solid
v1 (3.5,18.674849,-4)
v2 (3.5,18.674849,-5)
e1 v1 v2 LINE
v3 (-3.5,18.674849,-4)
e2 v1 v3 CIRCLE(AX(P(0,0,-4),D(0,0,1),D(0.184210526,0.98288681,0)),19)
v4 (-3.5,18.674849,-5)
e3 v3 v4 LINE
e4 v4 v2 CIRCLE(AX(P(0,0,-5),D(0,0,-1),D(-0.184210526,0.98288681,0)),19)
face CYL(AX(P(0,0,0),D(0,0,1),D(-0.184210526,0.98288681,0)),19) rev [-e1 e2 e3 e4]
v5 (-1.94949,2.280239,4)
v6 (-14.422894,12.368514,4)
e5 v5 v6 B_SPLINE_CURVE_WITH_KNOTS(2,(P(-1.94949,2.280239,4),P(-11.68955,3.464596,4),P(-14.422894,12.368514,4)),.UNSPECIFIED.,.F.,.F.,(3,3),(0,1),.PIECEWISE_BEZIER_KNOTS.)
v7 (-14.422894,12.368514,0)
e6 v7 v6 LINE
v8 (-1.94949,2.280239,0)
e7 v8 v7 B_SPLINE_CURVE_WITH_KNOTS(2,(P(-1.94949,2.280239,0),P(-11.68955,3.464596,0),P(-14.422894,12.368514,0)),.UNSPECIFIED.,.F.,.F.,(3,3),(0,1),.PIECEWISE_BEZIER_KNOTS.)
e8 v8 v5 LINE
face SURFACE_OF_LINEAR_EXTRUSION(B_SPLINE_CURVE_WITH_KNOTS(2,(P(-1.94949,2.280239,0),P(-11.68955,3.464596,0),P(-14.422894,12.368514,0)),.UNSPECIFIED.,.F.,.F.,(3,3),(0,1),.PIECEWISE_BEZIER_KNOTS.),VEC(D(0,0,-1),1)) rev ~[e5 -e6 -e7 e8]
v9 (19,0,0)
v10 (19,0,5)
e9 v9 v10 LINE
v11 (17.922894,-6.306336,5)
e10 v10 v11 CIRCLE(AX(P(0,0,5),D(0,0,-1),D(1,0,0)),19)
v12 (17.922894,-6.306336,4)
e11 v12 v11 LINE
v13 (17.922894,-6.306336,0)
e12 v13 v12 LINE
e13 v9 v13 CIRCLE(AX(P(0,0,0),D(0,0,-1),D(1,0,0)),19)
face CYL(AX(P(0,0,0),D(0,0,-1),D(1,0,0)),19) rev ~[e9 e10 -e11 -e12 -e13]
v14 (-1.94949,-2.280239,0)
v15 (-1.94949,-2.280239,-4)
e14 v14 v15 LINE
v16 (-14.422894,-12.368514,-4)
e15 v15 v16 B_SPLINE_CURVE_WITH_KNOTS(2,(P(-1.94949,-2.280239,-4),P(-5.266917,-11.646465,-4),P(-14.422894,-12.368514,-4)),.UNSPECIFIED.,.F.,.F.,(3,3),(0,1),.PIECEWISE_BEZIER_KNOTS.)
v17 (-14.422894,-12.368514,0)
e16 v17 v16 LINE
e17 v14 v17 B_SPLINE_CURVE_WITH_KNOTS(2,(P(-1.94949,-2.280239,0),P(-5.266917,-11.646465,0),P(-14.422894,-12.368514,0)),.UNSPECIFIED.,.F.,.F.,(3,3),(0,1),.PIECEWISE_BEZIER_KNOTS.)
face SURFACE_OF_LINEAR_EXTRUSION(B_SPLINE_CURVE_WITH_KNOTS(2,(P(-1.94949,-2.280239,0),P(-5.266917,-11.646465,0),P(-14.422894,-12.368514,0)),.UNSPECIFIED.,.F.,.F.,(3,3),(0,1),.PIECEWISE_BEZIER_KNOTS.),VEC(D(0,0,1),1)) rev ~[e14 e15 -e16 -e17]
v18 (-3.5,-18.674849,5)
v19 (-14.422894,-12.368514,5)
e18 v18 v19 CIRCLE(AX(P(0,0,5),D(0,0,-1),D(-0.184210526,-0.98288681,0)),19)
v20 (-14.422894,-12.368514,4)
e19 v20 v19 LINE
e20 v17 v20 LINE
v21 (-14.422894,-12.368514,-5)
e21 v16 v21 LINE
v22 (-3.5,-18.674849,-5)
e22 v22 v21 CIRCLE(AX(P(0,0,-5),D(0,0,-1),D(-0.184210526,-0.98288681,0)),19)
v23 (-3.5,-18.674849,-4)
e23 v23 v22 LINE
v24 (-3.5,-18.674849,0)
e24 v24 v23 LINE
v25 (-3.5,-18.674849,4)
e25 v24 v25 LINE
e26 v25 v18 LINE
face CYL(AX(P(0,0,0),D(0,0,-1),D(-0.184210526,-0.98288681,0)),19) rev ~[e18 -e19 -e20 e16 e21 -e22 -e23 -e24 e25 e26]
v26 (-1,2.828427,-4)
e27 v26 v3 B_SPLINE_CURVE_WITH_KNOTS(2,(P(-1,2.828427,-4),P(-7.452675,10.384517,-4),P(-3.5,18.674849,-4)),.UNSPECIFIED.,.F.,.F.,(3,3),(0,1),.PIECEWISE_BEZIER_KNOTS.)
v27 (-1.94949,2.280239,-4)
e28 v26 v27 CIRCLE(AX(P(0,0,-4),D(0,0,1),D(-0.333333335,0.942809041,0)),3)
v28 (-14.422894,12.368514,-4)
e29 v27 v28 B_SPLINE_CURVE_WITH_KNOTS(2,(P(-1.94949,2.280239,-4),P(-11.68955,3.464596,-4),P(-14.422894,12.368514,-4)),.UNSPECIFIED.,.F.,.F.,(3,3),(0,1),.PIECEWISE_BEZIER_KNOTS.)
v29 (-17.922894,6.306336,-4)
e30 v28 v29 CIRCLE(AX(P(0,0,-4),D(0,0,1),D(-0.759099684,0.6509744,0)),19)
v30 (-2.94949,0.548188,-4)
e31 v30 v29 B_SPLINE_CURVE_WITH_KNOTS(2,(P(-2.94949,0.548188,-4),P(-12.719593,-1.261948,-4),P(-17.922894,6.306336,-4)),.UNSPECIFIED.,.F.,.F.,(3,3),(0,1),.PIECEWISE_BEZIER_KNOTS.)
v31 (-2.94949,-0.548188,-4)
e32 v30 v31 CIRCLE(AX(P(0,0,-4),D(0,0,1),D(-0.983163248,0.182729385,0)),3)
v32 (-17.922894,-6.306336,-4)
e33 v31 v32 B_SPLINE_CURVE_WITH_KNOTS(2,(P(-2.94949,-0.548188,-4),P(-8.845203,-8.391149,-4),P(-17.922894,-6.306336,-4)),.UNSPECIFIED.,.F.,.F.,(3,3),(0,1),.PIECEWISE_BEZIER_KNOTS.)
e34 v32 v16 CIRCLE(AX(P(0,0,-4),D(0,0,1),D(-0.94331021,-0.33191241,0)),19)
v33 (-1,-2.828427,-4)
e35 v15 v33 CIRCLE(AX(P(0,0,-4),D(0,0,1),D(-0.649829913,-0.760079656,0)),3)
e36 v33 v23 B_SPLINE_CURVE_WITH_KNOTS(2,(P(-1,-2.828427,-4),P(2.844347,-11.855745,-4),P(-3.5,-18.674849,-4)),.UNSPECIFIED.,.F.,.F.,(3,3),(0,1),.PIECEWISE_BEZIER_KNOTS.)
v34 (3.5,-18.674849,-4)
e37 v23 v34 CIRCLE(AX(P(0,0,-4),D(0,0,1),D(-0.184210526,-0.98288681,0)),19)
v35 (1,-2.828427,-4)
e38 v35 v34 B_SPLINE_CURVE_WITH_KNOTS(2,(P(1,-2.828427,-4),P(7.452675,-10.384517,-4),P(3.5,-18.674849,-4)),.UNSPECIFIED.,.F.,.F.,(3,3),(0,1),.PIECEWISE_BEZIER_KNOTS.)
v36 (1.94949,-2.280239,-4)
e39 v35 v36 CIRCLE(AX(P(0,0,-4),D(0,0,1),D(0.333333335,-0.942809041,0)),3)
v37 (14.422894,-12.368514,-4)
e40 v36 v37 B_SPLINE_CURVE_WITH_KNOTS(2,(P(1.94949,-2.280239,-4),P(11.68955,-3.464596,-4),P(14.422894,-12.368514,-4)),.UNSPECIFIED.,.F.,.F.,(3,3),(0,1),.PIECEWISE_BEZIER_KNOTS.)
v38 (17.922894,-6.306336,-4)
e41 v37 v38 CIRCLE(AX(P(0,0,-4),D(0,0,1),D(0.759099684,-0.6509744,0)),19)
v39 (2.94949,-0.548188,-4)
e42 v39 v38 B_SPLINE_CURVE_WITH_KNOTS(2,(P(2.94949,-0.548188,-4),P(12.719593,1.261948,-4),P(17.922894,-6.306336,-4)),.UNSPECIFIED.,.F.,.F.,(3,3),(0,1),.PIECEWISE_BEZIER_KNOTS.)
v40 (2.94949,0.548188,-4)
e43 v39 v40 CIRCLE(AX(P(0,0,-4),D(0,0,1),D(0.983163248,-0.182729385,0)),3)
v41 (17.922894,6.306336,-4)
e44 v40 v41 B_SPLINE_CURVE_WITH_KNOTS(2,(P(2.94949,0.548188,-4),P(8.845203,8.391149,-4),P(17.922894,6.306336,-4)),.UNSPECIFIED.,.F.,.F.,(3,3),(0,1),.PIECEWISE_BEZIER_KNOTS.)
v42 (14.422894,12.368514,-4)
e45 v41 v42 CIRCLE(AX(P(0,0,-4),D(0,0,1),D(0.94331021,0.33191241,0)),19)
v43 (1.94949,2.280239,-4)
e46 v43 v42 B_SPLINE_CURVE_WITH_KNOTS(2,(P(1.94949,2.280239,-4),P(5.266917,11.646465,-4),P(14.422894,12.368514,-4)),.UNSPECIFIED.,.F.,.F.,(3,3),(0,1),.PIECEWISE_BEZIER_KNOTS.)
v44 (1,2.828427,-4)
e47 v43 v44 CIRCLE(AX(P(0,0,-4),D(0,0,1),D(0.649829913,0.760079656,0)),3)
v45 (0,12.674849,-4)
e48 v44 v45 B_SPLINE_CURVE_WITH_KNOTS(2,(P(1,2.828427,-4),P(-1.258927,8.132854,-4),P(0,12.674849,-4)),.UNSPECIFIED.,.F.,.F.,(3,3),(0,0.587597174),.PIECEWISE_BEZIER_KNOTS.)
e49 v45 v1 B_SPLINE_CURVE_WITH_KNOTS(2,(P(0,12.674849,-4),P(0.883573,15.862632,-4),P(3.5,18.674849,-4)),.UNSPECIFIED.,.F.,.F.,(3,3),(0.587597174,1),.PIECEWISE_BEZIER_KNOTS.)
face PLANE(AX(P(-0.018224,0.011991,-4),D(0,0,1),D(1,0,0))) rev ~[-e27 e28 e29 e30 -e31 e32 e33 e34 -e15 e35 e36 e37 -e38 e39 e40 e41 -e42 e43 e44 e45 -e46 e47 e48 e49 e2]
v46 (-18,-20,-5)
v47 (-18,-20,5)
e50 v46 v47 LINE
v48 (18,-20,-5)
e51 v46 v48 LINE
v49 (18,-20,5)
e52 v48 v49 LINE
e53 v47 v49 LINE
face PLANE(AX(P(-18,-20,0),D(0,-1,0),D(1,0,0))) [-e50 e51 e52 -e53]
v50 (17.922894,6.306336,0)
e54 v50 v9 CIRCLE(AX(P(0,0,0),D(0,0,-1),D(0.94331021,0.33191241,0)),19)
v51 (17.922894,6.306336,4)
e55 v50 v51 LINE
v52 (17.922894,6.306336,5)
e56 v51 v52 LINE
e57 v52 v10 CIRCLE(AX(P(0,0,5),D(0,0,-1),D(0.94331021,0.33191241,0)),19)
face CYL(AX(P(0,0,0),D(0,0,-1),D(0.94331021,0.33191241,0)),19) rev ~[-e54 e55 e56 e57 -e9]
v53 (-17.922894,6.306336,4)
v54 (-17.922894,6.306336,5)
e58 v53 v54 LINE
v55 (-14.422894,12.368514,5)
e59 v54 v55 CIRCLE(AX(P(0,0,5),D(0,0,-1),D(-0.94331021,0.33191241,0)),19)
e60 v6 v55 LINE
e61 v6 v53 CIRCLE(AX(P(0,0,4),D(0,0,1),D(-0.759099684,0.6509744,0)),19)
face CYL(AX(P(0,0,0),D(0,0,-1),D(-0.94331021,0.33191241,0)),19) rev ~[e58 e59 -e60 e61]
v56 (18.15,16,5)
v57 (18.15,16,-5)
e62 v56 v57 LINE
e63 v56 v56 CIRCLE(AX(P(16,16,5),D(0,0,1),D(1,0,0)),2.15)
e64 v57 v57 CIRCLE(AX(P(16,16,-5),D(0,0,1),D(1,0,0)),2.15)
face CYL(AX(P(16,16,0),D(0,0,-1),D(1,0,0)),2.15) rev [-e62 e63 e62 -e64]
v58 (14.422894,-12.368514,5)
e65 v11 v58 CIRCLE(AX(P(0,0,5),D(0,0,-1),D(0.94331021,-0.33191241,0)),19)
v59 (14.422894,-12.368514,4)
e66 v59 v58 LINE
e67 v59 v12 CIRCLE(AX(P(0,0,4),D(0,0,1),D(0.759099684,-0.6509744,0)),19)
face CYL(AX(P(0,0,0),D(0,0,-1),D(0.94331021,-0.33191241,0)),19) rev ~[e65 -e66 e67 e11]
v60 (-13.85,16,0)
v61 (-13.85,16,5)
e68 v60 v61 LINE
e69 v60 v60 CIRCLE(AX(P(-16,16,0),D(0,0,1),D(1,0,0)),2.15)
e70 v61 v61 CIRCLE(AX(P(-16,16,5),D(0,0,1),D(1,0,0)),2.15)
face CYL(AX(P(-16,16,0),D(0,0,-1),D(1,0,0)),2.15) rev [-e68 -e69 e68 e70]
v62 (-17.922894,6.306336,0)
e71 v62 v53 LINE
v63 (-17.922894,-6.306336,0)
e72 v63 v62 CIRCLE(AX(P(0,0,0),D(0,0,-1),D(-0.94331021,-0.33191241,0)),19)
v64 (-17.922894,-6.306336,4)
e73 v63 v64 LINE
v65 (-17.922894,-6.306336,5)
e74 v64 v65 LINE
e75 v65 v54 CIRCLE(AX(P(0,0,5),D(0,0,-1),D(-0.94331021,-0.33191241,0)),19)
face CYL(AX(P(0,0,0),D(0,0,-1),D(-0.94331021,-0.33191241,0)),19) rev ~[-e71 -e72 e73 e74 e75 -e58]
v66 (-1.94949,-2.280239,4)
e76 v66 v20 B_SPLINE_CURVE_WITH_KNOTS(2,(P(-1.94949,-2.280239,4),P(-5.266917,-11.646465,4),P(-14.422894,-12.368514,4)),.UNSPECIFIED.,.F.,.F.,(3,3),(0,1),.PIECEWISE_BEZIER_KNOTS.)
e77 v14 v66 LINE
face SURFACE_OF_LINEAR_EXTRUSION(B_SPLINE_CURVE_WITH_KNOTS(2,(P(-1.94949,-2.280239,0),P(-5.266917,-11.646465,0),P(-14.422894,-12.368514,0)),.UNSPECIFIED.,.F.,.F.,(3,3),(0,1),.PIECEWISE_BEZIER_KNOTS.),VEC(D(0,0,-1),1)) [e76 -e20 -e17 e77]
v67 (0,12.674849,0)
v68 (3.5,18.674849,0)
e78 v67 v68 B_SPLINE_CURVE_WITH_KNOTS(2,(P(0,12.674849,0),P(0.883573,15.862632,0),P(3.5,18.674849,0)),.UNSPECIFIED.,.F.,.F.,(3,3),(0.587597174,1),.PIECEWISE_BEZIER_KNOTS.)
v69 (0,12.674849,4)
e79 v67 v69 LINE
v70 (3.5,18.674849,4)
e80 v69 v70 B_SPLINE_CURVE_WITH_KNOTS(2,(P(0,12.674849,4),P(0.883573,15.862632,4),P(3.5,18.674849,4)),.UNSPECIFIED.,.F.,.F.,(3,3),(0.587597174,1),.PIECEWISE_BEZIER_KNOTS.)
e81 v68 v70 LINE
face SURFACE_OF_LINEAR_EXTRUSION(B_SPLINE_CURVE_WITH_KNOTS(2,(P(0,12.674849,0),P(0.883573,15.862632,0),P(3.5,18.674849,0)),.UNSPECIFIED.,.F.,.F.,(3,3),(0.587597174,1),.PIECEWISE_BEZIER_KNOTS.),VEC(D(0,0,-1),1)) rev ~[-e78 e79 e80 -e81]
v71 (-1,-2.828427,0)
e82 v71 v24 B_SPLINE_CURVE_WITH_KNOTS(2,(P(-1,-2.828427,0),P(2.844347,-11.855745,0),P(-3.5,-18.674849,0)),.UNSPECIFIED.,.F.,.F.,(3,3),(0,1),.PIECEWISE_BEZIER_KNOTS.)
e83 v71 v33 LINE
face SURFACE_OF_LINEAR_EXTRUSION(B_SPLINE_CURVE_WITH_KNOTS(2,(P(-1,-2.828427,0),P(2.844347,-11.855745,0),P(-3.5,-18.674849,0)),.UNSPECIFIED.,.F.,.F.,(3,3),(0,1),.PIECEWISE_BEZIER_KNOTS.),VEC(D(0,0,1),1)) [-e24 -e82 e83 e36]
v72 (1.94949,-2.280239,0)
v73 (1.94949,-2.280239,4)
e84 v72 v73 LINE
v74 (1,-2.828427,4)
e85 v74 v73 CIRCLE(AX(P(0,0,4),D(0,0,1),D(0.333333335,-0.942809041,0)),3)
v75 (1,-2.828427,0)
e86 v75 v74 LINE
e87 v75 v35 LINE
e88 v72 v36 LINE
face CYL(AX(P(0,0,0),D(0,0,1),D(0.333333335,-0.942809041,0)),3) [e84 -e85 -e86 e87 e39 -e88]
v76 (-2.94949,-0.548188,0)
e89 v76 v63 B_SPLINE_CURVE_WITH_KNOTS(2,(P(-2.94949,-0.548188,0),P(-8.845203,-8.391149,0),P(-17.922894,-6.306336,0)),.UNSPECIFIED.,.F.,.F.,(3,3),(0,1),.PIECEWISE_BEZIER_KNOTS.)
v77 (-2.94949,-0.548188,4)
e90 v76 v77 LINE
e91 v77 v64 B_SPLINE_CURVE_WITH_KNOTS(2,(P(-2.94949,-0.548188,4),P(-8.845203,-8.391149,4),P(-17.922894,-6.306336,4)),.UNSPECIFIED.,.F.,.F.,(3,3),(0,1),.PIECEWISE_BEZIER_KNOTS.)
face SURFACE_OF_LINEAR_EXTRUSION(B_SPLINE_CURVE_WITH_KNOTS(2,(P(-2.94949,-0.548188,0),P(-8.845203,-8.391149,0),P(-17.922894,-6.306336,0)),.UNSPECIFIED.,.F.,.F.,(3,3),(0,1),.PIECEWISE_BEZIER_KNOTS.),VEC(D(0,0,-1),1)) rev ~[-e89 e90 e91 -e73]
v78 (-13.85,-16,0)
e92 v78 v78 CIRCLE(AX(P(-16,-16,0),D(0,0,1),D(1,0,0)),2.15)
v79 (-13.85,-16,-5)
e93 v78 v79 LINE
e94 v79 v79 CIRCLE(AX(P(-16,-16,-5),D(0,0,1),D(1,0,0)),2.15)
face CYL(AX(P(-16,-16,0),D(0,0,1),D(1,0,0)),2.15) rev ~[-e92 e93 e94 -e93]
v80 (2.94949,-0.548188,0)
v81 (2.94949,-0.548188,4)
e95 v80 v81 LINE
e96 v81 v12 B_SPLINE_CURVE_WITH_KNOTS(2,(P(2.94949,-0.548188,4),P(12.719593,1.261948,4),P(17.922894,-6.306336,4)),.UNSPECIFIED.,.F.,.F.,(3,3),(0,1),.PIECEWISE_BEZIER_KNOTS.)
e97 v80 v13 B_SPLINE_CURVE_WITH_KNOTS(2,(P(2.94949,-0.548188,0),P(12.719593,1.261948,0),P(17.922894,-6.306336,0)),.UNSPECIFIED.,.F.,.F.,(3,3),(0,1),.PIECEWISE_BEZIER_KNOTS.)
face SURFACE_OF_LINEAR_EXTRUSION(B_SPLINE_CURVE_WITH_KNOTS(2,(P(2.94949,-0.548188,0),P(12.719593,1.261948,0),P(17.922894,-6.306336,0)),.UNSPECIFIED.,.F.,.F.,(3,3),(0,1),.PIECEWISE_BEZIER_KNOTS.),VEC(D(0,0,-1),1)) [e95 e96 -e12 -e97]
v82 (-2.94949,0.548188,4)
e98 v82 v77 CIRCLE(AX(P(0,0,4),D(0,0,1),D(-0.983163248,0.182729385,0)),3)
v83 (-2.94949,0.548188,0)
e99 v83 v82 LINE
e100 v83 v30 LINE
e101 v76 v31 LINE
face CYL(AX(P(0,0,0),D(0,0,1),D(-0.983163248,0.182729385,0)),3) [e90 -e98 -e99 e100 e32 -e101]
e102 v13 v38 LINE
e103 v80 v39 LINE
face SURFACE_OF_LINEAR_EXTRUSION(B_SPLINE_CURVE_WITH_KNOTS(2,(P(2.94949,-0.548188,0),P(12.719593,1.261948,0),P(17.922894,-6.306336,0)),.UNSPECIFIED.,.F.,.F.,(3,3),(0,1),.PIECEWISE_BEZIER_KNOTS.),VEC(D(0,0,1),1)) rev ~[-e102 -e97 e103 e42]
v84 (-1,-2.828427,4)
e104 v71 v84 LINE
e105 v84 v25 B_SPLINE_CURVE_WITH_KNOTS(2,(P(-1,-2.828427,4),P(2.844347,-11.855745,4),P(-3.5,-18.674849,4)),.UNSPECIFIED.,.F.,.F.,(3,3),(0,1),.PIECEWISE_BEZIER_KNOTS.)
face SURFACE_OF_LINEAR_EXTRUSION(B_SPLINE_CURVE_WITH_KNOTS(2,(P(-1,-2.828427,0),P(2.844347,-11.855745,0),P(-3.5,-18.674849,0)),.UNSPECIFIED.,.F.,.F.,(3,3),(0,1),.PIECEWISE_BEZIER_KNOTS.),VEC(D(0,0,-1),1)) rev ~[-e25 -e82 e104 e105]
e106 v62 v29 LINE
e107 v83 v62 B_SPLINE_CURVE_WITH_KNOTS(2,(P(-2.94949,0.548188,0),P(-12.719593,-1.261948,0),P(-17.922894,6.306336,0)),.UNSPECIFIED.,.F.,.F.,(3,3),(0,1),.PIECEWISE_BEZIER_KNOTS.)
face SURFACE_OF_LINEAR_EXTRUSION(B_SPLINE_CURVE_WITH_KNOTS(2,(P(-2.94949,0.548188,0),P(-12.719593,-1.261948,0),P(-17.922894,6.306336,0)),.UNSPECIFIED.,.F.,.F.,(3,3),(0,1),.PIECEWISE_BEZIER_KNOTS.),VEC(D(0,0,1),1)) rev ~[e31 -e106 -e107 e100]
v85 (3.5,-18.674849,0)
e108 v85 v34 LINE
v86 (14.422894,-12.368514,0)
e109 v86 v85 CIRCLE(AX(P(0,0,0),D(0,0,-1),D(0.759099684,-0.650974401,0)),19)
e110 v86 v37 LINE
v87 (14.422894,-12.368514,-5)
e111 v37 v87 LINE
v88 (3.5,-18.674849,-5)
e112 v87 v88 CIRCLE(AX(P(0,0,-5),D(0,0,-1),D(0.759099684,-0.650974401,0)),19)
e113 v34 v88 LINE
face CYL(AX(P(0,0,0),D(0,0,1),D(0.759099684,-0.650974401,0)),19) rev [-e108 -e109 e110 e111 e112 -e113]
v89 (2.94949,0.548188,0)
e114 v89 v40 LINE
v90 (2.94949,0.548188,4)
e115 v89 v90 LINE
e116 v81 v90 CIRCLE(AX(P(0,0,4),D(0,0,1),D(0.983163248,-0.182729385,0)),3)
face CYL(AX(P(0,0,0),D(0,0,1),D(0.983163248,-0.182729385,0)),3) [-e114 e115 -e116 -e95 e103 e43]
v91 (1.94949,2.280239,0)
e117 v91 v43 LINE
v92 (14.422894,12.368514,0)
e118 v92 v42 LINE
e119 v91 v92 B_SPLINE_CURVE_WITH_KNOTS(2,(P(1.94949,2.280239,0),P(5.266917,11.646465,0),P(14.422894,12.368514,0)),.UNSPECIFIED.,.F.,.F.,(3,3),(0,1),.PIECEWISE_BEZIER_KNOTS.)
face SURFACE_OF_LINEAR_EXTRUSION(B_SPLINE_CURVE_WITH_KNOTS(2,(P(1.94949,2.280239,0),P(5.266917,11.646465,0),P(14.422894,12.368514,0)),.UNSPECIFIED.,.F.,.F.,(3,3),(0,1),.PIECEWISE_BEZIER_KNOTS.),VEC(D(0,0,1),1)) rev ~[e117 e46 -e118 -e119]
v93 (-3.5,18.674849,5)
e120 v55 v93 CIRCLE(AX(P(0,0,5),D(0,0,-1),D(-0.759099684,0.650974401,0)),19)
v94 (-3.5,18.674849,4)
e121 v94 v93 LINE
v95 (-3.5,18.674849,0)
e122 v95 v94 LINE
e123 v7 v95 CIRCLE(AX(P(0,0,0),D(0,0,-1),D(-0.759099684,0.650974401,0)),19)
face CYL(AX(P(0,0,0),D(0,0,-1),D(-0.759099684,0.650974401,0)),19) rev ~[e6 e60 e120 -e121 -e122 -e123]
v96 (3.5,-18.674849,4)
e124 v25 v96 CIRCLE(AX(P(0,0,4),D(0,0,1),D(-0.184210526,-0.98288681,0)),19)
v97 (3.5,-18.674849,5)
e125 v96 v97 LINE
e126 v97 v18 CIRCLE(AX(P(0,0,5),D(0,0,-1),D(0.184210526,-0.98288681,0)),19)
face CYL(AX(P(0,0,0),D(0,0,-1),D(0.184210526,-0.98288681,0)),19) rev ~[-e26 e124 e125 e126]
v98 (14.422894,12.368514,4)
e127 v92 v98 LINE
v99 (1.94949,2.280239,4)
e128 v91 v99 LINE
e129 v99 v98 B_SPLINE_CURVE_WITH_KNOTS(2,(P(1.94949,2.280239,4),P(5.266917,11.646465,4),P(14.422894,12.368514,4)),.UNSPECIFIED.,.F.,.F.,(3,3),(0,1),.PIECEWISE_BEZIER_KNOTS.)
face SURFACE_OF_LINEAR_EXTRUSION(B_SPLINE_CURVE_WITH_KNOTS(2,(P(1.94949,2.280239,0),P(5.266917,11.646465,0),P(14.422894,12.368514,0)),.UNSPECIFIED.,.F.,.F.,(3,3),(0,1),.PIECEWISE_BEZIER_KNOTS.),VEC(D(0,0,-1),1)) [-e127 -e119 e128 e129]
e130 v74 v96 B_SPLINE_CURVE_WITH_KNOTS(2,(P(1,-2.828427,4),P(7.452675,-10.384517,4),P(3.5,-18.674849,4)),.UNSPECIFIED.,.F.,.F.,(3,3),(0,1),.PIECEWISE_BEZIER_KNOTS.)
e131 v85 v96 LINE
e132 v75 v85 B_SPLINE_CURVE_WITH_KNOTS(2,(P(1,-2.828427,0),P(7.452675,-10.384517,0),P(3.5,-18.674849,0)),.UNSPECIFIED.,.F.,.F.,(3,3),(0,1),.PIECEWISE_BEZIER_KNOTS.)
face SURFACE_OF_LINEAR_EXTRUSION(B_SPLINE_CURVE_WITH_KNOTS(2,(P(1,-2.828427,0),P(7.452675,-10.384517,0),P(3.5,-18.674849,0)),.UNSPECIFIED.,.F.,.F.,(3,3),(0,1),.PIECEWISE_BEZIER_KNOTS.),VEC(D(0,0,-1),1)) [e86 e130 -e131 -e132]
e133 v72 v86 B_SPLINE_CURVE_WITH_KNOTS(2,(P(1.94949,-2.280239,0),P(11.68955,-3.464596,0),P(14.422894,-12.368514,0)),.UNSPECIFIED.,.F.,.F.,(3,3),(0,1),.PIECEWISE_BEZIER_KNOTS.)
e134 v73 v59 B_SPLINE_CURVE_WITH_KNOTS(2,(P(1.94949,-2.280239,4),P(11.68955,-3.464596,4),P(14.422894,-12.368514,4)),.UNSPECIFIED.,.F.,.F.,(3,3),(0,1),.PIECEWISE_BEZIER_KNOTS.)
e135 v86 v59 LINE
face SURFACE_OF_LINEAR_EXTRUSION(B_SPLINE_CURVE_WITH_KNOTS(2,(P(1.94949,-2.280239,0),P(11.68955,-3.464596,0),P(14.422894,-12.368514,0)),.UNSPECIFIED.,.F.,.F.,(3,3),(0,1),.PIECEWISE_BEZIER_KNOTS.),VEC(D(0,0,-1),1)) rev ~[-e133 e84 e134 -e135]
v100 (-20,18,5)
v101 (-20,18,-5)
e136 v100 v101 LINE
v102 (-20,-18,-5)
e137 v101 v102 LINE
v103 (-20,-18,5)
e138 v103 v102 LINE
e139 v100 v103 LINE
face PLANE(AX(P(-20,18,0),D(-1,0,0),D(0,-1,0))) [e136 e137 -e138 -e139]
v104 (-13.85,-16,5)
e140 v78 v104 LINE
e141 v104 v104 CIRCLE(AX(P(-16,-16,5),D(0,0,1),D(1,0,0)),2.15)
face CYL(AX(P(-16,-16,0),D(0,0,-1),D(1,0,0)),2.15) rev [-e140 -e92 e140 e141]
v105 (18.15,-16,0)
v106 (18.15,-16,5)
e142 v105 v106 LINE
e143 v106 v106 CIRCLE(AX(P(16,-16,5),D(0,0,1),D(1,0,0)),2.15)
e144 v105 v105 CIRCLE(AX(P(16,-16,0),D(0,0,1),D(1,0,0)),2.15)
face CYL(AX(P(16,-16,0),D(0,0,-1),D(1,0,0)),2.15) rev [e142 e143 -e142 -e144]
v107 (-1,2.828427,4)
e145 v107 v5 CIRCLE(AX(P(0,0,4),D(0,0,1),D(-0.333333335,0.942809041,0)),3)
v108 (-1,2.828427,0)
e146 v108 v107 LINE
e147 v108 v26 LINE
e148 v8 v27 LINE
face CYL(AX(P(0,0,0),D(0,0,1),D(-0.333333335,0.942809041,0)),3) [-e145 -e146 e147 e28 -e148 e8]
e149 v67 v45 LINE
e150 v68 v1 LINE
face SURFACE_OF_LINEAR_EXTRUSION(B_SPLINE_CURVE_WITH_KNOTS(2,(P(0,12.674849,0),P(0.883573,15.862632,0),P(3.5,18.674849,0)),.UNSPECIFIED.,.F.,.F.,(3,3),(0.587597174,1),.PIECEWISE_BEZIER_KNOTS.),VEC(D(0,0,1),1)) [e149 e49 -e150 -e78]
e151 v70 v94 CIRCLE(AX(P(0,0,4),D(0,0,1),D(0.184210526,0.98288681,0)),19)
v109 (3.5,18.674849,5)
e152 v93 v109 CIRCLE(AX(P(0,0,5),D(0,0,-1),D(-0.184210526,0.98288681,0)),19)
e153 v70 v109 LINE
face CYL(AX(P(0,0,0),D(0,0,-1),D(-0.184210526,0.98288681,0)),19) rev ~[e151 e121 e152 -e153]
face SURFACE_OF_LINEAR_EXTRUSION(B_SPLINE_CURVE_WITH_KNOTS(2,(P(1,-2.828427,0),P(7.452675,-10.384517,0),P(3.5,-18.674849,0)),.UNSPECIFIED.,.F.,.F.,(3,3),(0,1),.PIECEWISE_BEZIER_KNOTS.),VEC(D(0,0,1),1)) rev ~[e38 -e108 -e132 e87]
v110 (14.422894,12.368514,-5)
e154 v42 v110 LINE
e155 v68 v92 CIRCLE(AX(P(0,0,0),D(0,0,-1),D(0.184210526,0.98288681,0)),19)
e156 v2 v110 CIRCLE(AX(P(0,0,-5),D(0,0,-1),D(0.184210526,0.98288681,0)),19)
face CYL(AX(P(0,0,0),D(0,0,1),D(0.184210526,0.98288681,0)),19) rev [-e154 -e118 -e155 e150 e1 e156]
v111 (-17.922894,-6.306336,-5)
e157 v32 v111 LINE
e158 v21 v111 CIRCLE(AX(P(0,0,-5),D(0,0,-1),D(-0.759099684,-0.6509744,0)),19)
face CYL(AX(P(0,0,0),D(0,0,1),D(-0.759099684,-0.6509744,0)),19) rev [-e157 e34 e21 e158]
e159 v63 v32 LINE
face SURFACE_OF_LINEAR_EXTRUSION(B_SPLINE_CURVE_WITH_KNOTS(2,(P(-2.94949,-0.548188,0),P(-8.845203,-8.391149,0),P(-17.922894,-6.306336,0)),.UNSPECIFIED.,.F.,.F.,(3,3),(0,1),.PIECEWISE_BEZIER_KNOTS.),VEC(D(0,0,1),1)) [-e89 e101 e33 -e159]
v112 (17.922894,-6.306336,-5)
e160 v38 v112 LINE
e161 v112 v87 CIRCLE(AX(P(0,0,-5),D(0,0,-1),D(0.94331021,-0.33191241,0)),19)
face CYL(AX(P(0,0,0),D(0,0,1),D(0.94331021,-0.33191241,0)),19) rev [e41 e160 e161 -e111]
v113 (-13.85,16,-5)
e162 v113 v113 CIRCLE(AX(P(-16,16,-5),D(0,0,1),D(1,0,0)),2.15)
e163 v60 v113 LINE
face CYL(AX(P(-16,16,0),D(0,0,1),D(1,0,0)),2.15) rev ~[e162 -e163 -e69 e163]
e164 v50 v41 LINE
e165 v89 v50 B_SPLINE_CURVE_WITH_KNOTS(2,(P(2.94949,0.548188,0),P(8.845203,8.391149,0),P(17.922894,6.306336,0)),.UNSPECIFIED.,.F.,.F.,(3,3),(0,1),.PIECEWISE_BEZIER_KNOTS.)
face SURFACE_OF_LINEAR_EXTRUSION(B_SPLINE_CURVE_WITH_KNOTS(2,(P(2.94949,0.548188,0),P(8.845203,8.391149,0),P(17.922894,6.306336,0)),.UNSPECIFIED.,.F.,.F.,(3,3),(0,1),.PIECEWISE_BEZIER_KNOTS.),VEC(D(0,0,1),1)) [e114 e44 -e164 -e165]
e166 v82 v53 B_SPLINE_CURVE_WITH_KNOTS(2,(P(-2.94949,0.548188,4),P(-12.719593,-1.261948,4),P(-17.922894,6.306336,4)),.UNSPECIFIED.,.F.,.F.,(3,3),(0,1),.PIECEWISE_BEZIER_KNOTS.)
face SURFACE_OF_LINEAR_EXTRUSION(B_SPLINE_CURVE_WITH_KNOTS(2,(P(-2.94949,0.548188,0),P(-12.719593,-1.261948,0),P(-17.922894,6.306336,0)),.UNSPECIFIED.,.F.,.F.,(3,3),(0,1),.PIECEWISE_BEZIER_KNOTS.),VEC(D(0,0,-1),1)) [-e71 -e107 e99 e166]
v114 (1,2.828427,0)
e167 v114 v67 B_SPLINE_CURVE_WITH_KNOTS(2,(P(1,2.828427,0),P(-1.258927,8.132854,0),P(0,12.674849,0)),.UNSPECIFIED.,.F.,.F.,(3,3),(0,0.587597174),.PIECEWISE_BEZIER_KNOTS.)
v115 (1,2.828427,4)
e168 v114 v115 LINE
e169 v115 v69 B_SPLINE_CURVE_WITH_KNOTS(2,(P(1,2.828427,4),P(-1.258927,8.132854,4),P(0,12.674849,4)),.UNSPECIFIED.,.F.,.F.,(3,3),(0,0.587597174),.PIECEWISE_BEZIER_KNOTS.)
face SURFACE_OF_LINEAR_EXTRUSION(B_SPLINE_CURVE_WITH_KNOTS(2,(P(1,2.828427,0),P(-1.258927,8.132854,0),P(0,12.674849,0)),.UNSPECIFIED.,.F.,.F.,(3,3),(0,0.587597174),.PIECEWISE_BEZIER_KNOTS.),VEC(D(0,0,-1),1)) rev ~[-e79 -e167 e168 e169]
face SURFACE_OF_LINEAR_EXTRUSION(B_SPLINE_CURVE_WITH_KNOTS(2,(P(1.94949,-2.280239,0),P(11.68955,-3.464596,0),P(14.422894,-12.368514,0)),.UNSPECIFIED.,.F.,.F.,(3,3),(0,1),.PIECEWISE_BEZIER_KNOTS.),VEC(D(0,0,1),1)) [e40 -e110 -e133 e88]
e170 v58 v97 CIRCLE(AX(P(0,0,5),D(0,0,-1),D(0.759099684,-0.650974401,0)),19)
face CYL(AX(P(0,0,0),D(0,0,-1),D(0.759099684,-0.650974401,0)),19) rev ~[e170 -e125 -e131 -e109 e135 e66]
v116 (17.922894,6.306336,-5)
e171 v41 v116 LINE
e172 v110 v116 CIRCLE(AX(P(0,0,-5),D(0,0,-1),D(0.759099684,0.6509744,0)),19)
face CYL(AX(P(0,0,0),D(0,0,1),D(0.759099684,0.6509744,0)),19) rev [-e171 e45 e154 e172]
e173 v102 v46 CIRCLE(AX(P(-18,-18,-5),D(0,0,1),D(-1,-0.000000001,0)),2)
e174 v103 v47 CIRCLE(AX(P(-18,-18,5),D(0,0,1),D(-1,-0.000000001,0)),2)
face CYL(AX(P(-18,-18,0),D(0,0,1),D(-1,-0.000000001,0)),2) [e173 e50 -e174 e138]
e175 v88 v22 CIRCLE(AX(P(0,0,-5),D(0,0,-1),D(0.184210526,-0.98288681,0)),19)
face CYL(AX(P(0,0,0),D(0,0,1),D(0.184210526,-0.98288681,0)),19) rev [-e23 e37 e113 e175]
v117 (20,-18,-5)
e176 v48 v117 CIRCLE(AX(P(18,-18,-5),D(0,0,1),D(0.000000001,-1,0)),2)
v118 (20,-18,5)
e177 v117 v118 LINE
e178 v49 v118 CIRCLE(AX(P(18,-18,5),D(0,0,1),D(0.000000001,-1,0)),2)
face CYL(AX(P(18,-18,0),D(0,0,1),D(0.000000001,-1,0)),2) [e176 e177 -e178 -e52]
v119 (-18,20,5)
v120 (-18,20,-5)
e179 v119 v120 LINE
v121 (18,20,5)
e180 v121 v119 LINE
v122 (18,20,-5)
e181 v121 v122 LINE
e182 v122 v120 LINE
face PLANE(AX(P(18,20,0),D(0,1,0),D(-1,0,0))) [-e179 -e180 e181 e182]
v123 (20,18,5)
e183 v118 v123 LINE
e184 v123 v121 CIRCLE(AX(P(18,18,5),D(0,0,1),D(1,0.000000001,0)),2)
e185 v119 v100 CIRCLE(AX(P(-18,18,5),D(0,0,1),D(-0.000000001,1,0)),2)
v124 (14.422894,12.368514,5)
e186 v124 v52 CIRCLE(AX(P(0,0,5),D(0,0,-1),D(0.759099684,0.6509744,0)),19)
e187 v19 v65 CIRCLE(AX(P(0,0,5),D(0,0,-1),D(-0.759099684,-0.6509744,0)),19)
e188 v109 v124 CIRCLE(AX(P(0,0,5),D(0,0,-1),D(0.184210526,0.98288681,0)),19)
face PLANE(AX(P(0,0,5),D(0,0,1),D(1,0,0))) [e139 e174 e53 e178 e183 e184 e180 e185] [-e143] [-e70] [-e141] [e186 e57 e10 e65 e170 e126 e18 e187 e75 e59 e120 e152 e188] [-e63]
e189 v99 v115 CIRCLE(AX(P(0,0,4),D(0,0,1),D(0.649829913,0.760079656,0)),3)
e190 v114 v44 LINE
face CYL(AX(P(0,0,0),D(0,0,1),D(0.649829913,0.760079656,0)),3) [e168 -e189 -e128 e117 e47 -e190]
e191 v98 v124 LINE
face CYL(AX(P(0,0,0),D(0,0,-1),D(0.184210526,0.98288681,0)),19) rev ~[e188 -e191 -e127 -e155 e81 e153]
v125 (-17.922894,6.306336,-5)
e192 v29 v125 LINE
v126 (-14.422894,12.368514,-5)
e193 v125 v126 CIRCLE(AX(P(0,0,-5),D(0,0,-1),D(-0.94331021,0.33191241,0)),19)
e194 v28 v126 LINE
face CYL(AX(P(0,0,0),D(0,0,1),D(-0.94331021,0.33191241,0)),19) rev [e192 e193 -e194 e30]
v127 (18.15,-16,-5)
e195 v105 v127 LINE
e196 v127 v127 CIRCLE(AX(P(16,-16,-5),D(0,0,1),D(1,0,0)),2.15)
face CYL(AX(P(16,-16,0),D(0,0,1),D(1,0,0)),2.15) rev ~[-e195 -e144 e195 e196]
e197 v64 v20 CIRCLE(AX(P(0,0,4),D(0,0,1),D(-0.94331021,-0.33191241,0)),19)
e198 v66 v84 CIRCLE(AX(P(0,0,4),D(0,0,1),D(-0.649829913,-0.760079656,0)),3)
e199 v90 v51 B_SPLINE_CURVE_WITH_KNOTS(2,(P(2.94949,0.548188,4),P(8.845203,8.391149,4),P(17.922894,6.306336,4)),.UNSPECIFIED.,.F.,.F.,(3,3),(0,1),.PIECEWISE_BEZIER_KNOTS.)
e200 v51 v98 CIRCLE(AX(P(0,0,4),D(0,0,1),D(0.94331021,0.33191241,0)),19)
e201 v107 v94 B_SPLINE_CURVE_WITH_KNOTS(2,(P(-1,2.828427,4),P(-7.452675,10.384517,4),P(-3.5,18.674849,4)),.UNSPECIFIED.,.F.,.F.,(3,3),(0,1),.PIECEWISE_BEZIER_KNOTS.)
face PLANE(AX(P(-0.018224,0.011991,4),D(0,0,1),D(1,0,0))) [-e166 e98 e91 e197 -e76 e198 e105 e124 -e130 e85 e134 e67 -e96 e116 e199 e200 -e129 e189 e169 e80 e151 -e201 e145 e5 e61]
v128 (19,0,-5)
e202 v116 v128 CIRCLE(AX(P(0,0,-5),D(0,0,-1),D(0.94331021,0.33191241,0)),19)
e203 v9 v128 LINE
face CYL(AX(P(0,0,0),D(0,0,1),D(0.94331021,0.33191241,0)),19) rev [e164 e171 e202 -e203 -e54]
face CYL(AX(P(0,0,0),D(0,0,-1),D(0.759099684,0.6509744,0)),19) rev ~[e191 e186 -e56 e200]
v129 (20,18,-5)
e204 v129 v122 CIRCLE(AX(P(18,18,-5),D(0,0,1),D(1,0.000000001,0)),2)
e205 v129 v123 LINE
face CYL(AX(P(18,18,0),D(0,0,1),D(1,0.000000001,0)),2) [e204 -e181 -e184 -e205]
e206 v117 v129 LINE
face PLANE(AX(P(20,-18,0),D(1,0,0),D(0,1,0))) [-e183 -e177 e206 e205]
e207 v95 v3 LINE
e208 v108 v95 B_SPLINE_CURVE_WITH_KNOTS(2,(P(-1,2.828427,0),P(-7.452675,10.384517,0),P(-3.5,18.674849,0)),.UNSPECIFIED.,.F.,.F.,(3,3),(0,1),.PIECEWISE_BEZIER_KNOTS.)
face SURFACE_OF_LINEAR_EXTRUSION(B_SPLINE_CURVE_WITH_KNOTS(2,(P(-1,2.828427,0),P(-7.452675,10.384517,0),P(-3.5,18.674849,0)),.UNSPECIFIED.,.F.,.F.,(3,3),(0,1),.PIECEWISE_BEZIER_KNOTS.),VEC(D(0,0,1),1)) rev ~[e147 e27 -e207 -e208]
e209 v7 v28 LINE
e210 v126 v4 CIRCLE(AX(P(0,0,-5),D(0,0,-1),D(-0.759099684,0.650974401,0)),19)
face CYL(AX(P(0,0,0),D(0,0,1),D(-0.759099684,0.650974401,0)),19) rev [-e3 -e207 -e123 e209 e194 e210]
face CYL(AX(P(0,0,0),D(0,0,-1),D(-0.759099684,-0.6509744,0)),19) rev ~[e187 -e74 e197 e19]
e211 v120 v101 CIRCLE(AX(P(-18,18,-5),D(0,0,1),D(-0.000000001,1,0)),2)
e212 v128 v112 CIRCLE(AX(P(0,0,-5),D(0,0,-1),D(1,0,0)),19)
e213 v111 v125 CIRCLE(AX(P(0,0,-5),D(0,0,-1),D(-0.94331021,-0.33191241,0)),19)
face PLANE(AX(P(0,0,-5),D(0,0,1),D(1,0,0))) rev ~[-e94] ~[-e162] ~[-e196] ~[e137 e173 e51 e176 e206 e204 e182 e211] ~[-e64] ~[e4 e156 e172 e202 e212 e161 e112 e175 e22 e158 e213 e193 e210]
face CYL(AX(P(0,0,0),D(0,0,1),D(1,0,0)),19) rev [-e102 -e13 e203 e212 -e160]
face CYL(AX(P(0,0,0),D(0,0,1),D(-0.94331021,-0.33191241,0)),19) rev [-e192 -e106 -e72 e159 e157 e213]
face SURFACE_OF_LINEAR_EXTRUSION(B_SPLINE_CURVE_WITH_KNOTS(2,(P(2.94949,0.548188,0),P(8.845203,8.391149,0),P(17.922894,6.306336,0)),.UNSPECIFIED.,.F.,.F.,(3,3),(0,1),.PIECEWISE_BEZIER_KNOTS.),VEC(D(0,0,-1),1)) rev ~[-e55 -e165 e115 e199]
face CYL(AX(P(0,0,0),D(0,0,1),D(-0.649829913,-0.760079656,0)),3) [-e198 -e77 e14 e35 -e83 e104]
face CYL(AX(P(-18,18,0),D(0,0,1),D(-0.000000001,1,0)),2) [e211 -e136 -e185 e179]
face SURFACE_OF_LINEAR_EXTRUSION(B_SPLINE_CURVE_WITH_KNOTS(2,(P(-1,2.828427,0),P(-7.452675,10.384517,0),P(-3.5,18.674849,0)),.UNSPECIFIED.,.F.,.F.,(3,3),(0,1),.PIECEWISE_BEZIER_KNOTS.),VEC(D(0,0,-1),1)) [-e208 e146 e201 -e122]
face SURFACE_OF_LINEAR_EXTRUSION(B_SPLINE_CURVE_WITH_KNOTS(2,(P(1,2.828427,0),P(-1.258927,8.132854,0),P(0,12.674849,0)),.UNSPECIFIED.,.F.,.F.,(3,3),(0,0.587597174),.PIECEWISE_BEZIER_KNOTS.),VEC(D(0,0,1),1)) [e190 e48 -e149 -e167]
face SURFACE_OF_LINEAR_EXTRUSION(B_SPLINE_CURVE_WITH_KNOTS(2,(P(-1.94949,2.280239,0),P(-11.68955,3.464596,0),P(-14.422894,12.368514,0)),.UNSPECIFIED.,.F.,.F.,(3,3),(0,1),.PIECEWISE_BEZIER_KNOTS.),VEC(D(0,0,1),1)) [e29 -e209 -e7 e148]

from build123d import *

# Parameters (mm, degrees)
SKETCH1_R           = 2.15
BOSS_EXTRUDE1_DEPTH = 5
BOSS_EXTRUDE2_DEPTH = 4


with BuildPart() as part:
    # Sketch1 → Boss-Extrude1 (new, symmetric)
    with BuildSketch(Plane.XY):
        with BuildLine():
            ThreePointArc((-20, -18), (-19.414213562, -19.414213562), (-18, -20))
            Line((-18, -20), (18, -20))
            ThreePointArc((18, -20), (19.414213562, -19.414213562), (20, -18))
            Line((20, -18), (20, 18))
            ThreePointArc((20, 18), (19.414213562, 19.414213562), (18, 20))
            Line((18, 20), (-18, 20))
            ThreePointArc((-18, 20), (-19.414213562, 19.414213562), (-20, 18))
            Line((-20, 18), (-20, -18))
        make_face()
        with Locations((-16, -16)):
            Circle(SKETCH1_R, mode=Mode.SUBTRACT)
        with Locations((16, -16)):
            Circle(SKETCH1_R, mode=Mode.SUBTRACT)
        with BuildLine():
            ThreePointArc((17.92289399, 6.306335785), (18.728787812, 3.19882902), (19, 0))
            ThreePointArc((19, 0), (18.728787812, -3.19882902), (17.92289399, -6.306335785))
            ThreePointArc((17.92289399, -6.306335785), (16.454482672, -9.5), (14.42289399, -12.368513612))
            ThreePointArc((14.42289399, -12.368513612), (9.5, -16.454482672), (3.5, -18.674849397))
            ThreePointArc((3.5, -18.674849397), (0, -19), (-3.5, -18.674849397))
            ThreePointArc((-3.5, -18.674849397), (-9.5, -16.454482672), (-14.42289399, -12.368513612))
            ThreePointArc((-14.42289399, -12.368513612), (-16.454482672, -9.5), (-17.92289399, -6.306335785))
            ThreePointArc((-17.92289399, -6.306335785), (-19, 0), (-17.92289399, 6.306335785))
            ThreePointArc((-17.92289399, 6.306335785), (-16.454482672, 9.5), (-14.42289399, 12.368513612))
            ThreePointArc((-14.42289399, 12.368513612), (-9.5, 16.454482672), (-3.5, 18.674849397))
            ThreePointArc((-3.5, 18.674849397), (0, 19), (3.5, 18.674849397))
            ThreePointArc((3.5, 18.674849397), (9.5, 16.454482672), (14.42289399, 12.368513612))
            ThreePointArc((14.42289399, 12.368513612), (16.454482672, 9.5), (17.92289399, 6.306335785))
        make_face(mode=Mode.SUBTRACT)
        with Locations((-16, 16)):
            Circle(SKETCH1_R, mode=Mode.SUBTRACT)
        with Locations((16, 16)):
            Circle(SKETCH1_R, mode=Mode.SUBTRACT)
    extrude(amount=BOSS_EXTRUDE1_DEPTH, both=True)

    # Sketch1<5> → Boss-Extrude2 (add, symmetric)
    with BuildSketch(Plane.XY):
        with BuildLine():
            add(Edge.make_bspline(
                [(2.949489743, 0.548188159), (8.845203175, 8.391149402), (17.92289399, 6.306335785)],
                knots=[0, 0, 0, 1, 1, 1], degree=2))
            ThreePointArc((17.92289399, 6.306335785), (16.454482672, 9.5), (14.42289399, 12.368513612))
            add(Edge.make_bspline(
                [(1.949489743, 2.280238966), (5.266917454, 11.646464502), (14.42289399, 12.368513612)],
                knots=[0, 0, 0, 1, 1, 1], degree=2))
            ThreePointArc((1.949489743, 2.280238966), (1.5, 2.598076211), (1, 2.828427125))
            add(Edge.make_bspline(
                [(1, 2.828427125), (-1.258927409, 8.1328538), (0, 12.674849397)],
                knots=[0, 0, 0, 0.587597174, 0.587597174, 0.587597174], degree=2))
            add(Edge.make_bspline(
                [(0, 12.674849397), (0.883573382, 15.862631615), (3.5, 18.674849397)],
                knots=[0.587597174, 0.587597174, 0.587597174, 1, 1, 1], degree=2))
            ThreePointArc((3.5, 18.674849397), (0, 19), (-3.5, 18.674849397))
            add(Edge.make_bspline(
                [(-1, 2.828427125), (-7.452675396, 10.384516566), (-3.5, 18.674849397)],
                knots=[0, 0, 0, 1, 1, 1], degree=2))
            ThreePointArc((-1, 2.828427125), (-1.5, 2.598076211), (-1.949489743, 2.280238966))
            add(Edge.make_bspline(
                [(-1.949489743, 2.280238966), (-11.689550136, 3.46459595), (-14.42289399, 12.368513612)],
                knots=[0, 0, 0, 1, 1, 1], degree=2))
            ThreePointArc((-14.42289399, 12.368513612), (-16.454482672, 9.5), (-17.92289399, 6.306335785))
            add(Edge.make_bspline(
                [(-2.949489743, 0.548188159), (-12.71959285, -1.261947936), (-17.92289399, 6.306335785)],
                knots=[0, 0, 0, 1, 1, 1], degree=2))
            ThreePointArc((-2.949489743, 0.548188159), (-3, 0), (-2.949489743, -0.548188159))
            add(Edge.make_bspline(
                [(-2.949489743, -0.548188159), (-8.845203175, -8.391149402), (-17.92289399, -6.306335785)],
                knots=[0, 0, 0, 1, 1, 1], degree=2))
            ThreePointArc((-17.92289399, -6.306335785), (-16.454482672, -9.5), (-14.42289399, -12.368513612))
            add(Edge.make_bspline(
                [(-1.949489743, -2.280238966), (-5.266917454, -11.646464502), (-14.42289399, -12.368513612)],
                knots=[0, 0, 0, 1, 1, 1], degree=2))
            ThreePointArc((-1.949489743, -2.280238966), (-1.5, -2.598076211), (-1, -2.828427125))
            add(Edge.make_bspline(
                [(-1, -2.828427125), (2.844346961, -11.855745352), (-3.5, -18.674849397)],
                knots=[0, 0, 0, 1, 1, 1], degree=2))
            ThreePointArc((-3.5, -18.674849397), (0, -19), (3.5, -18.674849397))
            add(Edge.make_bspline(
                [(1, -2.828427125), (7.452675396, -10.384516566), (3.5, -18.674849397)],
                knots=[0, 0, 0, 1, 1, 1], degree=2))
            ThreePointArc((1, -2.828427125), (1.5, -2.598076211), (1.949489743, -2.280238966))
            add(Edge.make_bspline(
                [(1.949489743, -2.280238966), (11.689550136, -3.46459595), (14.42289399, -12.368513612)],
                knots=[0, 0, 0, 1, 1, 1], degree=2))
            ThreePointArc((14.42289399, -12.368513612), (16.454482672, -9.5), (17.92289399, -6.306335785))
            add(Edge.make_bspline(
                [(2.949489743, -0.548188159), (12.71959285, 1.261947936), (17.92289399, -6.306335785)],
                knots=[0, 0, 0, 1, 1, 1], degree=2))
            ThreePointArc((2.949489743, -0.548188159), (3, 0), (2.949489743, 0.548188159))
        make_face()
    extrude(amount=BOSS_EXTRUDE2_DEPTH, both=True)


solid = part.part
